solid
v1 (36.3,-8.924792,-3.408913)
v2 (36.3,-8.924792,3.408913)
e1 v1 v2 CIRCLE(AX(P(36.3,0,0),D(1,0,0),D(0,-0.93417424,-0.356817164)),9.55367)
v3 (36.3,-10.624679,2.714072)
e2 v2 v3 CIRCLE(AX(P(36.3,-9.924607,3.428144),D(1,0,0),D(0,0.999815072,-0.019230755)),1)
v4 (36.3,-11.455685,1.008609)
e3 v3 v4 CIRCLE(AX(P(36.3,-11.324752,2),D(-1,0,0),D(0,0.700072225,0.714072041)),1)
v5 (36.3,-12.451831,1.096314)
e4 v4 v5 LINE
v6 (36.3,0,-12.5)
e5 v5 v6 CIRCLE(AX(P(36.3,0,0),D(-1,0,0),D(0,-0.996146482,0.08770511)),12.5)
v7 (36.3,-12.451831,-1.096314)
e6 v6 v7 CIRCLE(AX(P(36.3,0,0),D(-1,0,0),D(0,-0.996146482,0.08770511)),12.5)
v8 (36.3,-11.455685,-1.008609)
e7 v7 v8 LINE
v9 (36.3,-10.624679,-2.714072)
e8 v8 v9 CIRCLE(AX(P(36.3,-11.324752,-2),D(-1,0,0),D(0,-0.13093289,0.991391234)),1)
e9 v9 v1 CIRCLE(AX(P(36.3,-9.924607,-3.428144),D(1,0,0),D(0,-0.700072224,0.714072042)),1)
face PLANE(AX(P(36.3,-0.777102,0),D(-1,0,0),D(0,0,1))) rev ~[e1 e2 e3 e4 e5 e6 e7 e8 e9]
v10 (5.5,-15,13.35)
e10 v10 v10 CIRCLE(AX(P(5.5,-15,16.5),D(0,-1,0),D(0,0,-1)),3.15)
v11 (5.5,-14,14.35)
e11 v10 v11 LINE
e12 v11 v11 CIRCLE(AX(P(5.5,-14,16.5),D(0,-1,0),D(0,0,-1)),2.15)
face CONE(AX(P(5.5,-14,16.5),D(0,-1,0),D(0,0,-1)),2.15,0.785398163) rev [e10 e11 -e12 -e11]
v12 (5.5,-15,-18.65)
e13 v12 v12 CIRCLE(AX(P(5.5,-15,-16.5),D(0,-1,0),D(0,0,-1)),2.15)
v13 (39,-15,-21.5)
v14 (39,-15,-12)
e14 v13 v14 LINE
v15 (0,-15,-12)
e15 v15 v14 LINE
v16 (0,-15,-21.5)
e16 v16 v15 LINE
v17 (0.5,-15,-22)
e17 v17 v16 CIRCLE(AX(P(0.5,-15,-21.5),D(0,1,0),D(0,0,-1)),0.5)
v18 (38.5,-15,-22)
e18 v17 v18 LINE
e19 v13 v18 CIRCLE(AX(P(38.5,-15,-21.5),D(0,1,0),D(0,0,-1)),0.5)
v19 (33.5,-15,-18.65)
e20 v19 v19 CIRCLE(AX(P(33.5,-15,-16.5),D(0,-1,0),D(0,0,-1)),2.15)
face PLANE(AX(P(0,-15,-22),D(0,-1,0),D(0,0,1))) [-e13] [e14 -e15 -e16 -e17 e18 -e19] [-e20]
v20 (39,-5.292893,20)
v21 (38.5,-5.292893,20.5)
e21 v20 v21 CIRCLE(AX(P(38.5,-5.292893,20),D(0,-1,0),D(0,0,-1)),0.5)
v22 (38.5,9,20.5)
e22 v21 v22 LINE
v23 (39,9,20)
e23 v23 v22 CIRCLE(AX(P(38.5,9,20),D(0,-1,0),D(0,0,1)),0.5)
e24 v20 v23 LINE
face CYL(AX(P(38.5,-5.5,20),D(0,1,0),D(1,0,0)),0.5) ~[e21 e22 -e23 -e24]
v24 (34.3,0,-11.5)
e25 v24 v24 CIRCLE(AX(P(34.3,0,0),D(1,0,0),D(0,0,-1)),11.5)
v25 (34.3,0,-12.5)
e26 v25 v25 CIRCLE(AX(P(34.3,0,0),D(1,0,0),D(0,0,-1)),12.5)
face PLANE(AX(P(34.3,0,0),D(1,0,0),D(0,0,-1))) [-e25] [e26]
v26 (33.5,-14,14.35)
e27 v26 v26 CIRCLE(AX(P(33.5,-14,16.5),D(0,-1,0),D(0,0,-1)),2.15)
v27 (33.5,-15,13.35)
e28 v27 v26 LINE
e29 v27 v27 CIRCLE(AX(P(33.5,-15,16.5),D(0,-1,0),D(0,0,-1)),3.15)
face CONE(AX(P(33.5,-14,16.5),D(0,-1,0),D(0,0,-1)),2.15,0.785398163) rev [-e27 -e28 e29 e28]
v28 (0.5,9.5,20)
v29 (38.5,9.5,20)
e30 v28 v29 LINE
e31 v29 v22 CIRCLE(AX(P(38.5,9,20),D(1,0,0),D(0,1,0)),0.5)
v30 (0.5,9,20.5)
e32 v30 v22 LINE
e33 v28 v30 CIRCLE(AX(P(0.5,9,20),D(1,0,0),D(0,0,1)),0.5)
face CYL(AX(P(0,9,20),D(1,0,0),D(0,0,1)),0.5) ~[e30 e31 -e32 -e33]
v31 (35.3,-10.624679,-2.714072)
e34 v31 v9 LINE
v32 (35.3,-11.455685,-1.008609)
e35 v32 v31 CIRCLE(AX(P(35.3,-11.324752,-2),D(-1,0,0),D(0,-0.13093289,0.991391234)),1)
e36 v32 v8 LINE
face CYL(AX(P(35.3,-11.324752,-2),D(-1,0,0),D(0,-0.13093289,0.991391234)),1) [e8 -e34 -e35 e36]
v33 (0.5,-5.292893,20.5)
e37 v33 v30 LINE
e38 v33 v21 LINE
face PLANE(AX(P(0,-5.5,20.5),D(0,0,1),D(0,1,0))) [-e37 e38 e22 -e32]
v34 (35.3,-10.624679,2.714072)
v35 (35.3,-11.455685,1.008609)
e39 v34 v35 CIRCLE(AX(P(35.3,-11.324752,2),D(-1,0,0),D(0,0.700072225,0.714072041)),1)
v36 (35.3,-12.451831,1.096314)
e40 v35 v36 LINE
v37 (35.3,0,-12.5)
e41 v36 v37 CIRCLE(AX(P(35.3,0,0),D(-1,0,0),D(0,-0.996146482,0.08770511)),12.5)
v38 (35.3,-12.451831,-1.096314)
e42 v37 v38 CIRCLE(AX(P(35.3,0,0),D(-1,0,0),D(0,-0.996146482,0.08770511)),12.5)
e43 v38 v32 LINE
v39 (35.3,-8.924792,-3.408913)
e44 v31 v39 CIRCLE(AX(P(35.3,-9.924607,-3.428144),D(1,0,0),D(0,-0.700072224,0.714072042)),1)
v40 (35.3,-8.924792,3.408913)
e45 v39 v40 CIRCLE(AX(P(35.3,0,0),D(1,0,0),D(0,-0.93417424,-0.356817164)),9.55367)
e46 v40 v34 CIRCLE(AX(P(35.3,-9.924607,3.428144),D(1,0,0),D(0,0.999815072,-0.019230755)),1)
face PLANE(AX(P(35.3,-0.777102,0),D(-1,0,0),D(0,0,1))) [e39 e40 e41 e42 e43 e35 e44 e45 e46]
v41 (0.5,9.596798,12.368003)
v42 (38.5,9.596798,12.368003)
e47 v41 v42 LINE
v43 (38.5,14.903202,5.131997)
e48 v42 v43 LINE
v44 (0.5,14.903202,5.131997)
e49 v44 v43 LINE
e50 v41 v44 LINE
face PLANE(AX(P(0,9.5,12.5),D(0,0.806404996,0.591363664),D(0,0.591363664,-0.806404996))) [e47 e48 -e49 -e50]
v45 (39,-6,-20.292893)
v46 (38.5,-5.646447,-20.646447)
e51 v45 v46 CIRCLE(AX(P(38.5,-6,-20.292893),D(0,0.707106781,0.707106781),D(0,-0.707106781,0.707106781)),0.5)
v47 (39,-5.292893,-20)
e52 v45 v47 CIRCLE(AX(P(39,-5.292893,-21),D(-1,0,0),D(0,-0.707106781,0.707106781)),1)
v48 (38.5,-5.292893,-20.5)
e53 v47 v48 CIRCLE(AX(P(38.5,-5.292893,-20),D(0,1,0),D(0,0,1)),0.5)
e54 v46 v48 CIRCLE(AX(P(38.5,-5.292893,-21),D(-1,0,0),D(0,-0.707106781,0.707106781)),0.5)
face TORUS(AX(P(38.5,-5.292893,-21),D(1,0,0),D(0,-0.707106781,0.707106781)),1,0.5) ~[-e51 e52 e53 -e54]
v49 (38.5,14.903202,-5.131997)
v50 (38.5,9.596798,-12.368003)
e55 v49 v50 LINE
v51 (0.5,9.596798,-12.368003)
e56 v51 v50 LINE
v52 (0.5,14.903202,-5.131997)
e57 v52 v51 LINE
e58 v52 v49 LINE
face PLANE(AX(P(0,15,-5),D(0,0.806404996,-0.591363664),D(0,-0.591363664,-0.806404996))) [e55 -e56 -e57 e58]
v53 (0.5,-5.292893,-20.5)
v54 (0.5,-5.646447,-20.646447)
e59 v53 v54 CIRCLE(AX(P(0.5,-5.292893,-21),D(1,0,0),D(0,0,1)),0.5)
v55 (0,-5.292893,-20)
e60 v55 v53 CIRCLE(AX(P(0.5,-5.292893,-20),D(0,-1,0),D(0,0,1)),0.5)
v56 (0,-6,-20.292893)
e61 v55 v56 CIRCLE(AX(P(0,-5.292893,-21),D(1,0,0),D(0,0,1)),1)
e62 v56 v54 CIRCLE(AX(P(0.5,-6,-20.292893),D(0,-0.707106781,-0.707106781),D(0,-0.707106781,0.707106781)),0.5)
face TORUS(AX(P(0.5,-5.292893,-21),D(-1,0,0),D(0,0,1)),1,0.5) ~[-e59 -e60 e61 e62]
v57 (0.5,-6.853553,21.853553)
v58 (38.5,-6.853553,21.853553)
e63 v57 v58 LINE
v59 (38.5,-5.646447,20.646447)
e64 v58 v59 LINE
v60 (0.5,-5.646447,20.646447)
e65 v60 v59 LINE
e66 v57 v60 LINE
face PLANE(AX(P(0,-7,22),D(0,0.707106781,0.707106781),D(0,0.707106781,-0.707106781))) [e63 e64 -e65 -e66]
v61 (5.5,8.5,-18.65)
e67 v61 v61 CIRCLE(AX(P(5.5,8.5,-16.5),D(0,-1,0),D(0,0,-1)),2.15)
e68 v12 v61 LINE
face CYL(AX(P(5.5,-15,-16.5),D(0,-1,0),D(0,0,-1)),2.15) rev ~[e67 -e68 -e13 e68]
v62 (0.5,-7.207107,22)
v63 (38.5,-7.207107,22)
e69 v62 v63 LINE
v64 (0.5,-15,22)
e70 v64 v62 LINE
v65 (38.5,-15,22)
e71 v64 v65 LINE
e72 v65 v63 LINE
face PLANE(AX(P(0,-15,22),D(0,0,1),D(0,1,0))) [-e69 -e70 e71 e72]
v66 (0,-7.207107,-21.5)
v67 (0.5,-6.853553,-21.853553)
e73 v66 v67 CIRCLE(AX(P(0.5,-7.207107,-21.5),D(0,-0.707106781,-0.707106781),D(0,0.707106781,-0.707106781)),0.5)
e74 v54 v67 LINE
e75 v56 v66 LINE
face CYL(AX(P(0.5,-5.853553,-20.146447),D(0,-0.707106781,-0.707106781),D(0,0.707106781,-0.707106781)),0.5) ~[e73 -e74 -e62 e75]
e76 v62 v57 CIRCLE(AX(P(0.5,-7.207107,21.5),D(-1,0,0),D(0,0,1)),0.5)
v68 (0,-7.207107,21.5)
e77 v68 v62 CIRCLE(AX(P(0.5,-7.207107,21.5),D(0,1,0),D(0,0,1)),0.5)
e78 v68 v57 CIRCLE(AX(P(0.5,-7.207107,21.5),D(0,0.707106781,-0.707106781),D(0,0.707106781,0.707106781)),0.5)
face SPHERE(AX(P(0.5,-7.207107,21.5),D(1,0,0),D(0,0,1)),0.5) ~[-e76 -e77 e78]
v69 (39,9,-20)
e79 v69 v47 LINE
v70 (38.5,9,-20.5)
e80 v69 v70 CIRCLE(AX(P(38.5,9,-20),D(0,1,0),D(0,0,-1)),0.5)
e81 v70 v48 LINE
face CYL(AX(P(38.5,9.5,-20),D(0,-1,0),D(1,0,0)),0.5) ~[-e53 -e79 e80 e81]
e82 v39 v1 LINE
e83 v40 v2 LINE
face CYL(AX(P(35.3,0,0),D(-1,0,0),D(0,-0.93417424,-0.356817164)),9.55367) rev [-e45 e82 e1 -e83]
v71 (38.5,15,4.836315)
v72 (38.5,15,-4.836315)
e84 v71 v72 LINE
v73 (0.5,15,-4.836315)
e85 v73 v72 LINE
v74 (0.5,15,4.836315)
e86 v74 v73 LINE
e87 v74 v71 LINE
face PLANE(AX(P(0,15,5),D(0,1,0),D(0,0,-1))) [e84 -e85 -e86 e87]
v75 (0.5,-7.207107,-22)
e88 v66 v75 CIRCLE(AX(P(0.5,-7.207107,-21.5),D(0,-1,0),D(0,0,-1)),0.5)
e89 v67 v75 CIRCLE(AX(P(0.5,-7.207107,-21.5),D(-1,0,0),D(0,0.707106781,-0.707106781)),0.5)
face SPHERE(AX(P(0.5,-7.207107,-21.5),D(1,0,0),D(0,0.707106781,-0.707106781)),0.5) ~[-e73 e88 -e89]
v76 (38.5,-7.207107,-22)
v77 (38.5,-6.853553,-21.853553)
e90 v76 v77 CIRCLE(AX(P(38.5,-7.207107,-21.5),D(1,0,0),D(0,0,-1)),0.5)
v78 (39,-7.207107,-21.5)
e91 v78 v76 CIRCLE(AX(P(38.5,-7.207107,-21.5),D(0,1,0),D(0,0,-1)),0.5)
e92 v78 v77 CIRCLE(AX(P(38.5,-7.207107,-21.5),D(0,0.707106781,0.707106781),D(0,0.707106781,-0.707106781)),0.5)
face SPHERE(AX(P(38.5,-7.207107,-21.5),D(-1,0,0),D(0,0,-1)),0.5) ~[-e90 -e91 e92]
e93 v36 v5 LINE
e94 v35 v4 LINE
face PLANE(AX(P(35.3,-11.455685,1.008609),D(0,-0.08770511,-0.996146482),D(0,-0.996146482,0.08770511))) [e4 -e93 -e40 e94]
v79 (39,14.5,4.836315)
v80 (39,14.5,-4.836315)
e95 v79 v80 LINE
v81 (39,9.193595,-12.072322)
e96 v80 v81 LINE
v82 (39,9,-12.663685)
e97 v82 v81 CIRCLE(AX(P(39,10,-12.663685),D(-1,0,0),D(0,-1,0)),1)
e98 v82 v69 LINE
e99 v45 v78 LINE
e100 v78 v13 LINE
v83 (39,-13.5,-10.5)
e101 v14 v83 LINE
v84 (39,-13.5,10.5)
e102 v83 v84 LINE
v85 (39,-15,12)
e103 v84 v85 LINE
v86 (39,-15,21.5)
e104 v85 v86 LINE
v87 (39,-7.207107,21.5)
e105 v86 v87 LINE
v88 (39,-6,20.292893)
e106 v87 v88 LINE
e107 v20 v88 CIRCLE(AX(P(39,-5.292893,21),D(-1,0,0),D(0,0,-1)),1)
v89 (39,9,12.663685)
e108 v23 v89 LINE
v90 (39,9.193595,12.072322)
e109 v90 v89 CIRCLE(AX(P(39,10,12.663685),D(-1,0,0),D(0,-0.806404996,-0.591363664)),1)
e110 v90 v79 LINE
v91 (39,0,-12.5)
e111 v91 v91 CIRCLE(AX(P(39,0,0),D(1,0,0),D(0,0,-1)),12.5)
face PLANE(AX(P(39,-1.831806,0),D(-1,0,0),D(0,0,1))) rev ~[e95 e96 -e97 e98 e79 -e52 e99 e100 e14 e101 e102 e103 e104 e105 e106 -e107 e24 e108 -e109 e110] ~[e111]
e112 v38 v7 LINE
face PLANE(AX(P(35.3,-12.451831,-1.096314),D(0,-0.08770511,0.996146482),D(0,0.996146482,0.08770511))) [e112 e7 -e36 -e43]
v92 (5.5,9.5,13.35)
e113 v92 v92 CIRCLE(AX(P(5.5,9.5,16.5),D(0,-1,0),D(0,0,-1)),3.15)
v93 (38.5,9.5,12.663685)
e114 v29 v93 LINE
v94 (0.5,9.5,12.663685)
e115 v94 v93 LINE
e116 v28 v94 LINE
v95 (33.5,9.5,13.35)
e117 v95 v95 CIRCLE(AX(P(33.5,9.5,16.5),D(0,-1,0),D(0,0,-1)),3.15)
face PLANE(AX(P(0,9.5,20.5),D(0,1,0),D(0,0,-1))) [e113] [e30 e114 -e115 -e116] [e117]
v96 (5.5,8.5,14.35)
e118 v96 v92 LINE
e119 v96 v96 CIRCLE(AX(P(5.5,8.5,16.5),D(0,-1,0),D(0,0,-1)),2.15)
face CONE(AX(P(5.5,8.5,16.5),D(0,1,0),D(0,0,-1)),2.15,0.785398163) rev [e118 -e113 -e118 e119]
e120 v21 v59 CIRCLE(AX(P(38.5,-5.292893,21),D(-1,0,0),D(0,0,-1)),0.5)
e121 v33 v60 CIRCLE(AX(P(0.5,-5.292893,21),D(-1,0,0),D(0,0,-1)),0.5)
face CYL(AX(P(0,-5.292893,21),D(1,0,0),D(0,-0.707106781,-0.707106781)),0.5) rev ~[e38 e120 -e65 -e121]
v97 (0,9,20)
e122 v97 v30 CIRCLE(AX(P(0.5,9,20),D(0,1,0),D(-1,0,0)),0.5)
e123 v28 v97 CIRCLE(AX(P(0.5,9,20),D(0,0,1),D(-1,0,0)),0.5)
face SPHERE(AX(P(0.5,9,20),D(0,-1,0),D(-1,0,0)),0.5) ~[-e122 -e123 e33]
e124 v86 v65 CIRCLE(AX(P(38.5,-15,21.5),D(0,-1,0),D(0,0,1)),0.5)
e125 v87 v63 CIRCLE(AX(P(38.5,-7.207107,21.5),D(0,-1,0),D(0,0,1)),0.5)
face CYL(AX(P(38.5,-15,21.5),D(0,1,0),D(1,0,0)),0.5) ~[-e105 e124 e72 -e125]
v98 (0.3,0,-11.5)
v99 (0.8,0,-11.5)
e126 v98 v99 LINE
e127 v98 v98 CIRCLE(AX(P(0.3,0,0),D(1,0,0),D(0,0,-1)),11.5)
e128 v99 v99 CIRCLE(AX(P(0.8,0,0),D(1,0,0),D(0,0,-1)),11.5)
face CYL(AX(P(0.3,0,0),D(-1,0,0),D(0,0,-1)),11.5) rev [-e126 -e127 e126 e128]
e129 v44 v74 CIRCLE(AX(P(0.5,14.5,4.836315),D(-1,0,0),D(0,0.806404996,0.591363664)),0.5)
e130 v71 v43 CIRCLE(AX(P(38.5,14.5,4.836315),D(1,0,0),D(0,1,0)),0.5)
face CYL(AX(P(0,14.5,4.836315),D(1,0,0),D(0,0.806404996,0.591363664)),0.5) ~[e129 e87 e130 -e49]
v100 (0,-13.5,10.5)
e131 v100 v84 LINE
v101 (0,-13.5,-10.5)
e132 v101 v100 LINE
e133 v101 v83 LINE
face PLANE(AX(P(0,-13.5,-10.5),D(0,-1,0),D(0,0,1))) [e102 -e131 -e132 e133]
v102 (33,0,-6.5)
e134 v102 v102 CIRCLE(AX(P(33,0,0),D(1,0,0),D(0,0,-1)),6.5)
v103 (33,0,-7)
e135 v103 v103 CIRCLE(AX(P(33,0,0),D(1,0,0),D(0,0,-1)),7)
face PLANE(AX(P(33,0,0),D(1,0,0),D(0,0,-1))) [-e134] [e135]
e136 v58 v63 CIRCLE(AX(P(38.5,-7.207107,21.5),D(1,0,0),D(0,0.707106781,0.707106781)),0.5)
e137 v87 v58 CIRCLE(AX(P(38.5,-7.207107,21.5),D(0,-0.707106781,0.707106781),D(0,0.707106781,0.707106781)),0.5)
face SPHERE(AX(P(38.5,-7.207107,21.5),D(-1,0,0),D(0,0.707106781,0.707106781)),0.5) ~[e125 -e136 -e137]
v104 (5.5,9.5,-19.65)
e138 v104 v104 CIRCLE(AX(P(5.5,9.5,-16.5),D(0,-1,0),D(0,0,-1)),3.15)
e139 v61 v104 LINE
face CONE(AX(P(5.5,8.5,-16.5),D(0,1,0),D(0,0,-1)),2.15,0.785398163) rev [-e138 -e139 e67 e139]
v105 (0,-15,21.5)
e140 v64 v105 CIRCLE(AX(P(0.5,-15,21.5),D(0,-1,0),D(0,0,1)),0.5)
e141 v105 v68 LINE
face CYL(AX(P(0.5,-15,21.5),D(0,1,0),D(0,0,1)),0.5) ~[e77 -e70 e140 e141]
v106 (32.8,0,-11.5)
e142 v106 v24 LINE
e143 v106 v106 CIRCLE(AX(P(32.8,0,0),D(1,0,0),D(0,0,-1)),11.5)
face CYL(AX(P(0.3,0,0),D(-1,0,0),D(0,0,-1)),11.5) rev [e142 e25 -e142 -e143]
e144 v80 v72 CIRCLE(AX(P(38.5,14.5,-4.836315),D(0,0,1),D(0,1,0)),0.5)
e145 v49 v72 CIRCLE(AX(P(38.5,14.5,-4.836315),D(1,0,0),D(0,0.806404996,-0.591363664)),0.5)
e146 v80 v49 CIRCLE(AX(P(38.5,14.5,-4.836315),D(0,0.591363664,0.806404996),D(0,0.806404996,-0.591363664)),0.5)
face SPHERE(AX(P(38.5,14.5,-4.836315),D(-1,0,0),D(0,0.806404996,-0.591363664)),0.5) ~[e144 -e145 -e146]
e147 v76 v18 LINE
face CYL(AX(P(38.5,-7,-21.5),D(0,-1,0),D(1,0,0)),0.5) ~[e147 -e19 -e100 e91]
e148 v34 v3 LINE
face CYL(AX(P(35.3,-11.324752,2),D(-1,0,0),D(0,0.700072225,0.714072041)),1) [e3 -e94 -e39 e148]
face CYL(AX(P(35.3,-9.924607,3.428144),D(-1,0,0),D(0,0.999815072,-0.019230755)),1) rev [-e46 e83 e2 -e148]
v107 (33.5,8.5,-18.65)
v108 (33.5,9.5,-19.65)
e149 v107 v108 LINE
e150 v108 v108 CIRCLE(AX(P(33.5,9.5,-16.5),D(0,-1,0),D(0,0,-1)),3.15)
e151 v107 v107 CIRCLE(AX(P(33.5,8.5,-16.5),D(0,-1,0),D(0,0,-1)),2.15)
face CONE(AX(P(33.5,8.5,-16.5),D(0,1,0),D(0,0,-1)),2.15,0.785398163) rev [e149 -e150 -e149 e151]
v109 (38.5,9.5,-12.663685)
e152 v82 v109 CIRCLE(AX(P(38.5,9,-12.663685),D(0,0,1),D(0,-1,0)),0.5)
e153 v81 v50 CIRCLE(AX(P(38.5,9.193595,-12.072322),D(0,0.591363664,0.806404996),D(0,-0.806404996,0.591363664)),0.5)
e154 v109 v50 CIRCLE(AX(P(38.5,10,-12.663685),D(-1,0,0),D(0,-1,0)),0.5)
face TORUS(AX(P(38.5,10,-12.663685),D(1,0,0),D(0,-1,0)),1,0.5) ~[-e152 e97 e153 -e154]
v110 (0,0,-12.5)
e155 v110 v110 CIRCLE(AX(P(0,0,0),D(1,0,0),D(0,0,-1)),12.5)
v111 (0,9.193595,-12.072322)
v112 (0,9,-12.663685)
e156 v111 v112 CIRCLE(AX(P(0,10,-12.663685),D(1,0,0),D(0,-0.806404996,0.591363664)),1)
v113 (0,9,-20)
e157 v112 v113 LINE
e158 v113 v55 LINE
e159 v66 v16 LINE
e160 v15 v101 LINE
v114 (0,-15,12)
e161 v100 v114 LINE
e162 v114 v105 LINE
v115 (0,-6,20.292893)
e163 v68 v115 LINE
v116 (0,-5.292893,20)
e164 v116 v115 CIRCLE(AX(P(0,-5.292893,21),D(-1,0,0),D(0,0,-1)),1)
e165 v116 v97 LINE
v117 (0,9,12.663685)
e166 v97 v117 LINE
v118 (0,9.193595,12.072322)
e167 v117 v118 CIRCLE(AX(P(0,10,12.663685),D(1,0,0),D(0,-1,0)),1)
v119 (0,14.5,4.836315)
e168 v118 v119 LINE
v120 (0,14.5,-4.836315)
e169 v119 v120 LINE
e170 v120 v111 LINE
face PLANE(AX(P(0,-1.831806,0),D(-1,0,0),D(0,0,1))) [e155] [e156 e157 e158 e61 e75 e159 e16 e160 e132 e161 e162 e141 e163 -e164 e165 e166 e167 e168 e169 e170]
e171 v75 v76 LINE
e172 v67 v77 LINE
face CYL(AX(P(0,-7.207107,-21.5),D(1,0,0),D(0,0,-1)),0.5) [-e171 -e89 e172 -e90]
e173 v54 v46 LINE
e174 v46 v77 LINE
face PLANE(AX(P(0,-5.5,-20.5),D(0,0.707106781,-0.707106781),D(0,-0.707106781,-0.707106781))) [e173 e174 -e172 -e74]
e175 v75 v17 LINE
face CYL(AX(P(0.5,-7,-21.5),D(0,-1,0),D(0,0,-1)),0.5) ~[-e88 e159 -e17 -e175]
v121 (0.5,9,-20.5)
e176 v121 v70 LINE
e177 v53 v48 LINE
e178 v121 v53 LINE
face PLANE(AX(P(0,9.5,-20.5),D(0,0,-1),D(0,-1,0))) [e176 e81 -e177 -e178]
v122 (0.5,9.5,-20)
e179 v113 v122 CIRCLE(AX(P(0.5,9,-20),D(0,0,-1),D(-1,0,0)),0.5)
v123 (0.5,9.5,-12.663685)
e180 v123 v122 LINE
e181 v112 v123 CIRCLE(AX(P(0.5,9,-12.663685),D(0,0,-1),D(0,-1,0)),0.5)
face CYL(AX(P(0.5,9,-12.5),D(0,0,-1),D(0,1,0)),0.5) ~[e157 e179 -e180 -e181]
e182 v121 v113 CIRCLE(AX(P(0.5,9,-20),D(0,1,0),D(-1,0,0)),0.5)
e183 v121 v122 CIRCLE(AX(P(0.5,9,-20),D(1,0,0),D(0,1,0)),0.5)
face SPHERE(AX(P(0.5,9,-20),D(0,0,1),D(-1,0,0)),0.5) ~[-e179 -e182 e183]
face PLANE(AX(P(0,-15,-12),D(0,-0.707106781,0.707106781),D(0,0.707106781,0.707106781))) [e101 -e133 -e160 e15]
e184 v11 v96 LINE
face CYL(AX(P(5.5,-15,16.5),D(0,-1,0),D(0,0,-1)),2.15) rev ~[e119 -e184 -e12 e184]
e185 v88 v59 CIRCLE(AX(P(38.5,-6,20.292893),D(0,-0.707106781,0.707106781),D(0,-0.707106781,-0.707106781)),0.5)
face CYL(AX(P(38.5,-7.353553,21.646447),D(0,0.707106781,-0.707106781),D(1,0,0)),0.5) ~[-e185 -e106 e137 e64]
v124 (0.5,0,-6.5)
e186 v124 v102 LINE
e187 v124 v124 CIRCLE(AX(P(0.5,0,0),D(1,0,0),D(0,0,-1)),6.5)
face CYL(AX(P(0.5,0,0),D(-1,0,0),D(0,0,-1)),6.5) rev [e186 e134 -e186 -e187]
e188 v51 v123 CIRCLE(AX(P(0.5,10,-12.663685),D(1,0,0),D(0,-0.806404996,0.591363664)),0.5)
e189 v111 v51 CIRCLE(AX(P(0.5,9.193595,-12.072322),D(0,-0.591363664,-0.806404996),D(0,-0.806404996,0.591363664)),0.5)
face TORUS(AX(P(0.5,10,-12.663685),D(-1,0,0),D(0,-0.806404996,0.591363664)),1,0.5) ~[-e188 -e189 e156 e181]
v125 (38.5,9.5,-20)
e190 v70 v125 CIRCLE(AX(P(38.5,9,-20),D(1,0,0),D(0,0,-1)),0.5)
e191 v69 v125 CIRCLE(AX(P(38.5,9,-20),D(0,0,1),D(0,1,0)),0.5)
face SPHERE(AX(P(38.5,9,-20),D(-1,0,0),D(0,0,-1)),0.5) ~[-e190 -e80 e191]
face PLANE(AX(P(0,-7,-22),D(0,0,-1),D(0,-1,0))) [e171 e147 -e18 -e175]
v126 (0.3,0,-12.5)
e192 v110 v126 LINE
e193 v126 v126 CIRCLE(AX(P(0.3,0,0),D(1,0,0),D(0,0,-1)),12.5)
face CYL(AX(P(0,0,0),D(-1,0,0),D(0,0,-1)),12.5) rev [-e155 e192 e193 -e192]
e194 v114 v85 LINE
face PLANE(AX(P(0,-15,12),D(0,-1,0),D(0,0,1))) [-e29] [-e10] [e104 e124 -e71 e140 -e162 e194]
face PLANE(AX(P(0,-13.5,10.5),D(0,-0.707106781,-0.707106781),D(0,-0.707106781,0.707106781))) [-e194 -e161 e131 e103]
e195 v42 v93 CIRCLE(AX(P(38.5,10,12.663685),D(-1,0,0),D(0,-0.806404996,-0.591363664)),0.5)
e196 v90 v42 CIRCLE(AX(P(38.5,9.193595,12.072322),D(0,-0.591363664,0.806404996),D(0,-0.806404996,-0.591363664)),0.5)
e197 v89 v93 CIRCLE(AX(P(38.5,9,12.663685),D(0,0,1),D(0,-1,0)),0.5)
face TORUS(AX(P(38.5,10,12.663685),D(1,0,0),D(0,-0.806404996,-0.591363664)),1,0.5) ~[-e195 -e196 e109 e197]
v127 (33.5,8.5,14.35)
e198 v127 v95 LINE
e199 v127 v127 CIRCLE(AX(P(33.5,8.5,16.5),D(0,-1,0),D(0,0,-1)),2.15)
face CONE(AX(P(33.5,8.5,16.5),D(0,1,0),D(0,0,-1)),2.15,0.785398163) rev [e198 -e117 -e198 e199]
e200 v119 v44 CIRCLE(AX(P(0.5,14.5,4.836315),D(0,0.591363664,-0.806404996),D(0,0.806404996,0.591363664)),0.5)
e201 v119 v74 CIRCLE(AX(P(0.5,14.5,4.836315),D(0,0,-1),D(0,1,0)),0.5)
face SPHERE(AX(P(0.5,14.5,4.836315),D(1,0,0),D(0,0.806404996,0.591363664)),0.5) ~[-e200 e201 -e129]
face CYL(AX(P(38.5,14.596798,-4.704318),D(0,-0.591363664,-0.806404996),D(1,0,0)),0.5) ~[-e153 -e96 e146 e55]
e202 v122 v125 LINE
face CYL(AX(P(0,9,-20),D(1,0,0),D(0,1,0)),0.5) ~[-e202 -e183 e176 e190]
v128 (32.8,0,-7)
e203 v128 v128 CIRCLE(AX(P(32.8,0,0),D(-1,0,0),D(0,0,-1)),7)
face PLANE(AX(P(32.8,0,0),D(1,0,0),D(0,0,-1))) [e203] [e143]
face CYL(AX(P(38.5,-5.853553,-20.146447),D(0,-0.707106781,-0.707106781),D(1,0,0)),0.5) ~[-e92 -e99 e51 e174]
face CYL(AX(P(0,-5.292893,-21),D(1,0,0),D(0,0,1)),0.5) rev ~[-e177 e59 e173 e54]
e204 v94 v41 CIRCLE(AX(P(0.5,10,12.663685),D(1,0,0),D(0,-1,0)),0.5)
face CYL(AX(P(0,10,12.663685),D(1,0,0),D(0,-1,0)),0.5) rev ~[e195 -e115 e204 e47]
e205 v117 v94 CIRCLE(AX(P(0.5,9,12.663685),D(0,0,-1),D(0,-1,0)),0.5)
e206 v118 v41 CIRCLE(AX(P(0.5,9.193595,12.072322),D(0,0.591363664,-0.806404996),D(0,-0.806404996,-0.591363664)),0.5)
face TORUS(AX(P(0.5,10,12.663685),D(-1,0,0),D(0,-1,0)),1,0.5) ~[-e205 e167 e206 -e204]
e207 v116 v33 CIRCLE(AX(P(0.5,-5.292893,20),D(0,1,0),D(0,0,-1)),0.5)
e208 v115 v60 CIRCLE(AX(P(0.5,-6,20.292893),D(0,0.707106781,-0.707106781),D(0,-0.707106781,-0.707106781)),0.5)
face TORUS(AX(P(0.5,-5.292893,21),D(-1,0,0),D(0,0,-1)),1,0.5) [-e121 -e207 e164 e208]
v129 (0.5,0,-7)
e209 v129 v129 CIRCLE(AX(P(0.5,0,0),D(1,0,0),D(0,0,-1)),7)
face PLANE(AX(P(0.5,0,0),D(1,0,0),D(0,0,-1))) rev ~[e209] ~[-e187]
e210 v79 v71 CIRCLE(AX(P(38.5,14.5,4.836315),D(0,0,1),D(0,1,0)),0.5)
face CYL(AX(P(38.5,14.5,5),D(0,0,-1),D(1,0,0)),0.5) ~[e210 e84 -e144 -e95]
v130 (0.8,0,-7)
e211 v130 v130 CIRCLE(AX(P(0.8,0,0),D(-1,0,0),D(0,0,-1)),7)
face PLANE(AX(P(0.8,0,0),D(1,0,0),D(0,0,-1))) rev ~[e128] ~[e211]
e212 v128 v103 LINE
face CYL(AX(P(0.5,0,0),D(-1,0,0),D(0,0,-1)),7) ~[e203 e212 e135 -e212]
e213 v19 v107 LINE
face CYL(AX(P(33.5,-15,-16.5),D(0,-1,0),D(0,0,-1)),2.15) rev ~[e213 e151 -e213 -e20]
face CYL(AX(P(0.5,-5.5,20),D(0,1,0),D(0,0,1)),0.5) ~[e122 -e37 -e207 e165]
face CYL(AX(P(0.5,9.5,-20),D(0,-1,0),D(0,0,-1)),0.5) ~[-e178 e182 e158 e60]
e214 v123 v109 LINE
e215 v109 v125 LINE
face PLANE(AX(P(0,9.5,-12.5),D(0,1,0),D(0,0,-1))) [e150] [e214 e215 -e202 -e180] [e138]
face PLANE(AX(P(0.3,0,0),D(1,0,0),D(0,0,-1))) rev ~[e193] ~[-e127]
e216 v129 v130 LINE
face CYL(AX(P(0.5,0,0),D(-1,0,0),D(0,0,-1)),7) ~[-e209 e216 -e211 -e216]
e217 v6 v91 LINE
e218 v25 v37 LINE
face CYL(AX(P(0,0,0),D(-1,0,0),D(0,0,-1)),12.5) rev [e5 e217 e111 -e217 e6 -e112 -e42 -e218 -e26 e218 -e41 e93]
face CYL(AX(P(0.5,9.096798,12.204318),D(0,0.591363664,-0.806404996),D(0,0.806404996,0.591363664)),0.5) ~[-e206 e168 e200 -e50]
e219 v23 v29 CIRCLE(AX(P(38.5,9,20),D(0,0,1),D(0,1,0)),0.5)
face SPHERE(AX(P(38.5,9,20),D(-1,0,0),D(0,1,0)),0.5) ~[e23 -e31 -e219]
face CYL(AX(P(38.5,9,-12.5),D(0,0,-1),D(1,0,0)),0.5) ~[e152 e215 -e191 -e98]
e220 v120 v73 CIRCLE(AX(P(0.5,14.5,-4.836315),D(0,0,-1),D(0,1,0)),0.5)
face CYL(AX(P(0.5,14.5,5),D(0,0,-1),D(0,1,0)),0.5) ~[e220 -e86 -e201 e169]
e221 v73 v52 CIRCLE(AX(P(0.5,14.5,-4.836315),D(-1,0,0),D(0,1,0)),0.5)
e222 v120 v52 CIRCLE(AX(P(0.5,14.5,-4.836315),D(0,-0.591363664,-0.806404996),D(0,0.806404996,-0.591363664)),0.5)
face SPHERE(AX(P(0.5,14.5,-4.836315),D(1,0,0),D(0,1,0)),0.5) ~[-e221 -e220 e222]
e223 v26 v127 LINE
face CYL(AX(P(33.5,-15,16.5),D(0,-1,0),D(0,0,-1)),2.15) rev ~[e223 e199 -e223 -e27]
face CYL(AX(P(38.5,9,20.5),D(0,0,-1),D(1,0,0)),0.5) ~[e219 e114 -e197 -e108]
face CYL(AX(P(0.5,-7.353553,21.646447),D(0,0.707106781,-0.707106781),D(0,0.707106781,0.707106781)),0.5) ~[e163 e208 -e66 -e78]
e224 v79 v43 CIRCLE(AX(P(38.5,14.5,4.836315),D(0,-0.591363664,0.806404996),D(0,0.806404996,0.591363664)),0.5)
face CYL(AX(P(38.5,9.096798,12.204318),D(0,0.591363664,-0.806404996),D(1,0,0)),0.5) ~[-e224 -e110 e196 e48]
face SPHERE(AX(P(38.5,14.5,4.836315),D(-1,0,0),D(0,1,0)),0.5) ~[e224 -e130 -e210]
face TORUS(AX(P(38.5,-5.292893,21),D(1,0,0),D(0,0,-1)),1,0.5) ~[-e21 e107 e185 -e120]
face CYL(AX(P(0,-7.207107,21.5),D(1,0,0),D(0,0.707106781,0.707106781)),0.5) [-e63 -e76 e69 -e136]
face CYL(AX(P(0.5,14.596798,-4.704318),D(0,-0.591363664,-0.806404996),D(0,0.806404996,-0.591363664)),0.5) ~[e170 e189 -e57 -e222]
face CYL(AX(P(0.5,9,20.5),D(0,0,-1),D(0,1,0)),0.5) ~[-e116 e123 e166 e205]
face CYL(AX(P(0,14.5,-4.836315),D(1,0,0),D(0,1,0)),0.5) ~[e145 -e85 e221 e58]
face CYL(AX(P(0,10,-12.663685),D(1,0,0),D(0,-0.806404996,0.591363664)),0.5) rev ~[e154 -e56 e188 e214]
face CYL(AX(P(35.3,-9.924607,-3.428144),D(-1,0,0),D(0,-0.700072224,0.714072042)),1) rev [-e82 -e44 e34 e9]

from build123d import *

# Parameters (mm, degrees)
SKETCH1_R           = 12.5
BOSS_EXTRUDE1_DEPTH = 39
EXTRUDE_THIN1_START = 0.5
SKETCH1_4_R         = 7
SKETCH1_4_R_2       = 6.5
EXTRUDE_THIN1_DEPTH = 32.5
BOSS_EXTRUDE2_START = 0.8
SKETCH1_5_R         = 11.5
SKETCH1_5_R_2       = 6.5
BOSS_EXTRUDE2_DEPTH = 32
BOSS_EXTRUDE3_START = 0.3
SKETCH1_6_R         = 12.5
SKETCH1_6_R_2       = 11.5
BOSS_EXTRUDE3_DEPTH = 34
BOSS_EXTRUDE4_START = 1
BOSS_EXTRUDE4_DEPTH = 1
FILLET1_R           = 0.5
SKETCH4_R           = 2.15
CUT_EXTRUDE3_DEPTH  = 54.898051913
CHAMFER1_SIZE       = 1


with BuildPart() as part:
    # Sketch1 → Boss-Extrude1 (new body)
    with BuildSketch(Plane(origin=(0, 0, 0), x_dir=(0, 0, -1), z_dir=(1, 0, 0))):
        Polygon((-22, -15), (-12, -15), (-10.5, -13.5), (10.5, -13.5), (12, -15), (22, -15), (22, -7), (20.5, -5.5), (20.5, 9.5), (12.5, 9.5), (5, 15), (-5, 15), (-12.5, 9.5), (-20.5, 9.5), (-20.5, -5.5), (-22, -7), align=None)
        Circle(SKETCH1_R, mode=Mode.SUBTRACT)
    extrude(amount=BOSS_EXTRUDE1_DEPTH)



with BuildPart() as body_2:
    # Sketch1<4> → Extrude-Thin1 (new body)
    with BuildSketch(Plane(origin=(0, 0, 0), x_dir=(0, 0, -1), z_dir=(1, 0, 0)).offset(EXTRUDE_THIN1_START)):
        Circle(SKETCH1_4_R)
        Circle(SKETCH1_4_R_2, mode=Mode.SUBTRACT)
    extrude(amount=EXTRUDE_THIN1_DEPTH)

    # Sketch1<5> → Boss-Extrude2 (add)
    with BuildSketch(Plane(origin=(0, 0, 0), x_dir=(0, 0, -1), z_dir=(1, 0, 0)).offset(BOSS_EXTRUDE2_START)):
        Circle(SKETCH1_5_R)
        Circle(SKETCH1_5_R_2, mode=Mode.SUBTRACT)
    extrude(amount=BOSS_EXTRUDE2_DEPTH)


with BuildPart() as part_1:
    add(part.part)

    add(body_2.part)  # Boss-Extrude3 merges body 2
    # Sketch1<6> → Boss-Extrude3 (add)
    with BuildSketch(Plane(origin=(0, 0, 0), x_dir=(0, 0, -1), z_dir=(1, 0, 0)).offset(BOSS_EXTRUDE3_START)):
        Circle(SKETCH1_6_R)
        Circle(SKETCH1_6_R_2, mode=Mode.SUBTRACT)
    extrude(amount=BOSS_EXTRUDE3_DEPTH)

    # Sketch3 → Boss-Extrude4 (add)
    with BuildSketch(Plane(origin=(34.3, 0, 0), x_dir=(0, 0, -1), z_dir=(1, 0, 0)).offset(BOSS_EXTRUDE4_START)):
        with BuildLine():
            Line((-1.008608766, -11.455684543), (-1.096313876, -12.451831025))
            ThreePointArc((-1.096313876, -12.451831025), (0, 12.5), (1.096313876, -12.451831025))
            Line((1.096313876, -12.451831025), (1.008608766, -11.455684543))
            ThreePointArc((1.008608766, -11.455684543), (1.561971623, -10.425790507), (2.714072041, -10.624679428))
            ThreePointArc((2.714072041, -10.624679428), (4.353799231, -10.302975473), (3.408913328, -8.924792132))
            ThreePointArc((3.408913328, -8.924792132), (0, 9.553669697), (-3.408913328, -8.924792132))
            ThreePointArc((-3.408913328, -8.924792132), (-4.353799231, -10.302975473), (-2.714072041, -10.624679428))
            ThreePointArc((-2.714072041, -10.624679428), (-1.561971623, -10.425790507), (-1.008608766, -11.455684543))
        make_face()
    extrude(amount=BOSS_EXTRUDE4_DEPTH)

    # Fillet1
    fillet1_edges = [part_1.edges().sort_by_distance(p)[0] for p in [
        (19.5, -5.5, -20.5),
        (19.5, -5.5, 20.5),
        (19.5, -7, 22),
        (19.5, -7, -22),
        (19.5, 9.5, -12.5),
        (19.5, 9.5, 12.5),
        (19.5, 15, 5),
        (19.5, 15, -5),
        (19.5, 9.5, -20.5),
        (19.5, 9.5, 20.5),
        (39, 12.25, -8.75),
        (39, 12.25, 8.75),
        (39, 2, 20.5),
        (0, -6.25, 21.25),
        (0, 12.25, 8.75),
        (39, -6.25, -21.25),
        (39, -11, -22),
        (39, 2, -20.5),
        (39, 15, 0),
        (39, 9.5, -16.5),
        (39, 9.5, 16.5),
        (39, -6.25, 21.25),
        (39, -11, 22),
        (0, -11, -22),
        (0, -6.25, -21.25),
        (0, 2, -20.5),
        (0, 12.25, -8.75),
        (0, 9.5, -16.5),
        (0, 15, 0),
        (0, -11, 22),
        (0, 2, 20.5),
        (0, 9.5, 16.5),
    ]]
    fillet(fillet1_edges, radius=FILLET1_R)

    # Sketch4 → Cut-Extrude3 (cut, through all)
    with BuildSketch(Plane.XZ.offset(15)):
        with Locations((5.5, 16.5)):
            Circle(SKETCH4_R)
        with Locations((33.5, 16.5)):
            Circle(SKETCH4_R)
        with Locations((33.5, -16.5)):
            Circle(SKETCH4_R)
        with Locations((5.5, -16.5)):
            Circle(SKETCH4_R)
    extrude(amount=-CUT_EXTRUDE3_DEPTH, mode=Mode.SUBTRACT)

    # Chamfer1
    chamfer1_edges = [part_1.edges().sort_by_distance(p)[0] for p in [
        (31.35, 9.5, -16.5),
        (3.35, 9.5, -16.5),
        (3.35, 9.5, 16.5),
        (31.35, 9.5, 16.5),
        (31.35, -15, 16.5),
        (3.35, -15, 16.5),
    ]]
    chamfer(chamfer1_edges, length=CHAMFER1_SIZE)


solid = part_1.part
